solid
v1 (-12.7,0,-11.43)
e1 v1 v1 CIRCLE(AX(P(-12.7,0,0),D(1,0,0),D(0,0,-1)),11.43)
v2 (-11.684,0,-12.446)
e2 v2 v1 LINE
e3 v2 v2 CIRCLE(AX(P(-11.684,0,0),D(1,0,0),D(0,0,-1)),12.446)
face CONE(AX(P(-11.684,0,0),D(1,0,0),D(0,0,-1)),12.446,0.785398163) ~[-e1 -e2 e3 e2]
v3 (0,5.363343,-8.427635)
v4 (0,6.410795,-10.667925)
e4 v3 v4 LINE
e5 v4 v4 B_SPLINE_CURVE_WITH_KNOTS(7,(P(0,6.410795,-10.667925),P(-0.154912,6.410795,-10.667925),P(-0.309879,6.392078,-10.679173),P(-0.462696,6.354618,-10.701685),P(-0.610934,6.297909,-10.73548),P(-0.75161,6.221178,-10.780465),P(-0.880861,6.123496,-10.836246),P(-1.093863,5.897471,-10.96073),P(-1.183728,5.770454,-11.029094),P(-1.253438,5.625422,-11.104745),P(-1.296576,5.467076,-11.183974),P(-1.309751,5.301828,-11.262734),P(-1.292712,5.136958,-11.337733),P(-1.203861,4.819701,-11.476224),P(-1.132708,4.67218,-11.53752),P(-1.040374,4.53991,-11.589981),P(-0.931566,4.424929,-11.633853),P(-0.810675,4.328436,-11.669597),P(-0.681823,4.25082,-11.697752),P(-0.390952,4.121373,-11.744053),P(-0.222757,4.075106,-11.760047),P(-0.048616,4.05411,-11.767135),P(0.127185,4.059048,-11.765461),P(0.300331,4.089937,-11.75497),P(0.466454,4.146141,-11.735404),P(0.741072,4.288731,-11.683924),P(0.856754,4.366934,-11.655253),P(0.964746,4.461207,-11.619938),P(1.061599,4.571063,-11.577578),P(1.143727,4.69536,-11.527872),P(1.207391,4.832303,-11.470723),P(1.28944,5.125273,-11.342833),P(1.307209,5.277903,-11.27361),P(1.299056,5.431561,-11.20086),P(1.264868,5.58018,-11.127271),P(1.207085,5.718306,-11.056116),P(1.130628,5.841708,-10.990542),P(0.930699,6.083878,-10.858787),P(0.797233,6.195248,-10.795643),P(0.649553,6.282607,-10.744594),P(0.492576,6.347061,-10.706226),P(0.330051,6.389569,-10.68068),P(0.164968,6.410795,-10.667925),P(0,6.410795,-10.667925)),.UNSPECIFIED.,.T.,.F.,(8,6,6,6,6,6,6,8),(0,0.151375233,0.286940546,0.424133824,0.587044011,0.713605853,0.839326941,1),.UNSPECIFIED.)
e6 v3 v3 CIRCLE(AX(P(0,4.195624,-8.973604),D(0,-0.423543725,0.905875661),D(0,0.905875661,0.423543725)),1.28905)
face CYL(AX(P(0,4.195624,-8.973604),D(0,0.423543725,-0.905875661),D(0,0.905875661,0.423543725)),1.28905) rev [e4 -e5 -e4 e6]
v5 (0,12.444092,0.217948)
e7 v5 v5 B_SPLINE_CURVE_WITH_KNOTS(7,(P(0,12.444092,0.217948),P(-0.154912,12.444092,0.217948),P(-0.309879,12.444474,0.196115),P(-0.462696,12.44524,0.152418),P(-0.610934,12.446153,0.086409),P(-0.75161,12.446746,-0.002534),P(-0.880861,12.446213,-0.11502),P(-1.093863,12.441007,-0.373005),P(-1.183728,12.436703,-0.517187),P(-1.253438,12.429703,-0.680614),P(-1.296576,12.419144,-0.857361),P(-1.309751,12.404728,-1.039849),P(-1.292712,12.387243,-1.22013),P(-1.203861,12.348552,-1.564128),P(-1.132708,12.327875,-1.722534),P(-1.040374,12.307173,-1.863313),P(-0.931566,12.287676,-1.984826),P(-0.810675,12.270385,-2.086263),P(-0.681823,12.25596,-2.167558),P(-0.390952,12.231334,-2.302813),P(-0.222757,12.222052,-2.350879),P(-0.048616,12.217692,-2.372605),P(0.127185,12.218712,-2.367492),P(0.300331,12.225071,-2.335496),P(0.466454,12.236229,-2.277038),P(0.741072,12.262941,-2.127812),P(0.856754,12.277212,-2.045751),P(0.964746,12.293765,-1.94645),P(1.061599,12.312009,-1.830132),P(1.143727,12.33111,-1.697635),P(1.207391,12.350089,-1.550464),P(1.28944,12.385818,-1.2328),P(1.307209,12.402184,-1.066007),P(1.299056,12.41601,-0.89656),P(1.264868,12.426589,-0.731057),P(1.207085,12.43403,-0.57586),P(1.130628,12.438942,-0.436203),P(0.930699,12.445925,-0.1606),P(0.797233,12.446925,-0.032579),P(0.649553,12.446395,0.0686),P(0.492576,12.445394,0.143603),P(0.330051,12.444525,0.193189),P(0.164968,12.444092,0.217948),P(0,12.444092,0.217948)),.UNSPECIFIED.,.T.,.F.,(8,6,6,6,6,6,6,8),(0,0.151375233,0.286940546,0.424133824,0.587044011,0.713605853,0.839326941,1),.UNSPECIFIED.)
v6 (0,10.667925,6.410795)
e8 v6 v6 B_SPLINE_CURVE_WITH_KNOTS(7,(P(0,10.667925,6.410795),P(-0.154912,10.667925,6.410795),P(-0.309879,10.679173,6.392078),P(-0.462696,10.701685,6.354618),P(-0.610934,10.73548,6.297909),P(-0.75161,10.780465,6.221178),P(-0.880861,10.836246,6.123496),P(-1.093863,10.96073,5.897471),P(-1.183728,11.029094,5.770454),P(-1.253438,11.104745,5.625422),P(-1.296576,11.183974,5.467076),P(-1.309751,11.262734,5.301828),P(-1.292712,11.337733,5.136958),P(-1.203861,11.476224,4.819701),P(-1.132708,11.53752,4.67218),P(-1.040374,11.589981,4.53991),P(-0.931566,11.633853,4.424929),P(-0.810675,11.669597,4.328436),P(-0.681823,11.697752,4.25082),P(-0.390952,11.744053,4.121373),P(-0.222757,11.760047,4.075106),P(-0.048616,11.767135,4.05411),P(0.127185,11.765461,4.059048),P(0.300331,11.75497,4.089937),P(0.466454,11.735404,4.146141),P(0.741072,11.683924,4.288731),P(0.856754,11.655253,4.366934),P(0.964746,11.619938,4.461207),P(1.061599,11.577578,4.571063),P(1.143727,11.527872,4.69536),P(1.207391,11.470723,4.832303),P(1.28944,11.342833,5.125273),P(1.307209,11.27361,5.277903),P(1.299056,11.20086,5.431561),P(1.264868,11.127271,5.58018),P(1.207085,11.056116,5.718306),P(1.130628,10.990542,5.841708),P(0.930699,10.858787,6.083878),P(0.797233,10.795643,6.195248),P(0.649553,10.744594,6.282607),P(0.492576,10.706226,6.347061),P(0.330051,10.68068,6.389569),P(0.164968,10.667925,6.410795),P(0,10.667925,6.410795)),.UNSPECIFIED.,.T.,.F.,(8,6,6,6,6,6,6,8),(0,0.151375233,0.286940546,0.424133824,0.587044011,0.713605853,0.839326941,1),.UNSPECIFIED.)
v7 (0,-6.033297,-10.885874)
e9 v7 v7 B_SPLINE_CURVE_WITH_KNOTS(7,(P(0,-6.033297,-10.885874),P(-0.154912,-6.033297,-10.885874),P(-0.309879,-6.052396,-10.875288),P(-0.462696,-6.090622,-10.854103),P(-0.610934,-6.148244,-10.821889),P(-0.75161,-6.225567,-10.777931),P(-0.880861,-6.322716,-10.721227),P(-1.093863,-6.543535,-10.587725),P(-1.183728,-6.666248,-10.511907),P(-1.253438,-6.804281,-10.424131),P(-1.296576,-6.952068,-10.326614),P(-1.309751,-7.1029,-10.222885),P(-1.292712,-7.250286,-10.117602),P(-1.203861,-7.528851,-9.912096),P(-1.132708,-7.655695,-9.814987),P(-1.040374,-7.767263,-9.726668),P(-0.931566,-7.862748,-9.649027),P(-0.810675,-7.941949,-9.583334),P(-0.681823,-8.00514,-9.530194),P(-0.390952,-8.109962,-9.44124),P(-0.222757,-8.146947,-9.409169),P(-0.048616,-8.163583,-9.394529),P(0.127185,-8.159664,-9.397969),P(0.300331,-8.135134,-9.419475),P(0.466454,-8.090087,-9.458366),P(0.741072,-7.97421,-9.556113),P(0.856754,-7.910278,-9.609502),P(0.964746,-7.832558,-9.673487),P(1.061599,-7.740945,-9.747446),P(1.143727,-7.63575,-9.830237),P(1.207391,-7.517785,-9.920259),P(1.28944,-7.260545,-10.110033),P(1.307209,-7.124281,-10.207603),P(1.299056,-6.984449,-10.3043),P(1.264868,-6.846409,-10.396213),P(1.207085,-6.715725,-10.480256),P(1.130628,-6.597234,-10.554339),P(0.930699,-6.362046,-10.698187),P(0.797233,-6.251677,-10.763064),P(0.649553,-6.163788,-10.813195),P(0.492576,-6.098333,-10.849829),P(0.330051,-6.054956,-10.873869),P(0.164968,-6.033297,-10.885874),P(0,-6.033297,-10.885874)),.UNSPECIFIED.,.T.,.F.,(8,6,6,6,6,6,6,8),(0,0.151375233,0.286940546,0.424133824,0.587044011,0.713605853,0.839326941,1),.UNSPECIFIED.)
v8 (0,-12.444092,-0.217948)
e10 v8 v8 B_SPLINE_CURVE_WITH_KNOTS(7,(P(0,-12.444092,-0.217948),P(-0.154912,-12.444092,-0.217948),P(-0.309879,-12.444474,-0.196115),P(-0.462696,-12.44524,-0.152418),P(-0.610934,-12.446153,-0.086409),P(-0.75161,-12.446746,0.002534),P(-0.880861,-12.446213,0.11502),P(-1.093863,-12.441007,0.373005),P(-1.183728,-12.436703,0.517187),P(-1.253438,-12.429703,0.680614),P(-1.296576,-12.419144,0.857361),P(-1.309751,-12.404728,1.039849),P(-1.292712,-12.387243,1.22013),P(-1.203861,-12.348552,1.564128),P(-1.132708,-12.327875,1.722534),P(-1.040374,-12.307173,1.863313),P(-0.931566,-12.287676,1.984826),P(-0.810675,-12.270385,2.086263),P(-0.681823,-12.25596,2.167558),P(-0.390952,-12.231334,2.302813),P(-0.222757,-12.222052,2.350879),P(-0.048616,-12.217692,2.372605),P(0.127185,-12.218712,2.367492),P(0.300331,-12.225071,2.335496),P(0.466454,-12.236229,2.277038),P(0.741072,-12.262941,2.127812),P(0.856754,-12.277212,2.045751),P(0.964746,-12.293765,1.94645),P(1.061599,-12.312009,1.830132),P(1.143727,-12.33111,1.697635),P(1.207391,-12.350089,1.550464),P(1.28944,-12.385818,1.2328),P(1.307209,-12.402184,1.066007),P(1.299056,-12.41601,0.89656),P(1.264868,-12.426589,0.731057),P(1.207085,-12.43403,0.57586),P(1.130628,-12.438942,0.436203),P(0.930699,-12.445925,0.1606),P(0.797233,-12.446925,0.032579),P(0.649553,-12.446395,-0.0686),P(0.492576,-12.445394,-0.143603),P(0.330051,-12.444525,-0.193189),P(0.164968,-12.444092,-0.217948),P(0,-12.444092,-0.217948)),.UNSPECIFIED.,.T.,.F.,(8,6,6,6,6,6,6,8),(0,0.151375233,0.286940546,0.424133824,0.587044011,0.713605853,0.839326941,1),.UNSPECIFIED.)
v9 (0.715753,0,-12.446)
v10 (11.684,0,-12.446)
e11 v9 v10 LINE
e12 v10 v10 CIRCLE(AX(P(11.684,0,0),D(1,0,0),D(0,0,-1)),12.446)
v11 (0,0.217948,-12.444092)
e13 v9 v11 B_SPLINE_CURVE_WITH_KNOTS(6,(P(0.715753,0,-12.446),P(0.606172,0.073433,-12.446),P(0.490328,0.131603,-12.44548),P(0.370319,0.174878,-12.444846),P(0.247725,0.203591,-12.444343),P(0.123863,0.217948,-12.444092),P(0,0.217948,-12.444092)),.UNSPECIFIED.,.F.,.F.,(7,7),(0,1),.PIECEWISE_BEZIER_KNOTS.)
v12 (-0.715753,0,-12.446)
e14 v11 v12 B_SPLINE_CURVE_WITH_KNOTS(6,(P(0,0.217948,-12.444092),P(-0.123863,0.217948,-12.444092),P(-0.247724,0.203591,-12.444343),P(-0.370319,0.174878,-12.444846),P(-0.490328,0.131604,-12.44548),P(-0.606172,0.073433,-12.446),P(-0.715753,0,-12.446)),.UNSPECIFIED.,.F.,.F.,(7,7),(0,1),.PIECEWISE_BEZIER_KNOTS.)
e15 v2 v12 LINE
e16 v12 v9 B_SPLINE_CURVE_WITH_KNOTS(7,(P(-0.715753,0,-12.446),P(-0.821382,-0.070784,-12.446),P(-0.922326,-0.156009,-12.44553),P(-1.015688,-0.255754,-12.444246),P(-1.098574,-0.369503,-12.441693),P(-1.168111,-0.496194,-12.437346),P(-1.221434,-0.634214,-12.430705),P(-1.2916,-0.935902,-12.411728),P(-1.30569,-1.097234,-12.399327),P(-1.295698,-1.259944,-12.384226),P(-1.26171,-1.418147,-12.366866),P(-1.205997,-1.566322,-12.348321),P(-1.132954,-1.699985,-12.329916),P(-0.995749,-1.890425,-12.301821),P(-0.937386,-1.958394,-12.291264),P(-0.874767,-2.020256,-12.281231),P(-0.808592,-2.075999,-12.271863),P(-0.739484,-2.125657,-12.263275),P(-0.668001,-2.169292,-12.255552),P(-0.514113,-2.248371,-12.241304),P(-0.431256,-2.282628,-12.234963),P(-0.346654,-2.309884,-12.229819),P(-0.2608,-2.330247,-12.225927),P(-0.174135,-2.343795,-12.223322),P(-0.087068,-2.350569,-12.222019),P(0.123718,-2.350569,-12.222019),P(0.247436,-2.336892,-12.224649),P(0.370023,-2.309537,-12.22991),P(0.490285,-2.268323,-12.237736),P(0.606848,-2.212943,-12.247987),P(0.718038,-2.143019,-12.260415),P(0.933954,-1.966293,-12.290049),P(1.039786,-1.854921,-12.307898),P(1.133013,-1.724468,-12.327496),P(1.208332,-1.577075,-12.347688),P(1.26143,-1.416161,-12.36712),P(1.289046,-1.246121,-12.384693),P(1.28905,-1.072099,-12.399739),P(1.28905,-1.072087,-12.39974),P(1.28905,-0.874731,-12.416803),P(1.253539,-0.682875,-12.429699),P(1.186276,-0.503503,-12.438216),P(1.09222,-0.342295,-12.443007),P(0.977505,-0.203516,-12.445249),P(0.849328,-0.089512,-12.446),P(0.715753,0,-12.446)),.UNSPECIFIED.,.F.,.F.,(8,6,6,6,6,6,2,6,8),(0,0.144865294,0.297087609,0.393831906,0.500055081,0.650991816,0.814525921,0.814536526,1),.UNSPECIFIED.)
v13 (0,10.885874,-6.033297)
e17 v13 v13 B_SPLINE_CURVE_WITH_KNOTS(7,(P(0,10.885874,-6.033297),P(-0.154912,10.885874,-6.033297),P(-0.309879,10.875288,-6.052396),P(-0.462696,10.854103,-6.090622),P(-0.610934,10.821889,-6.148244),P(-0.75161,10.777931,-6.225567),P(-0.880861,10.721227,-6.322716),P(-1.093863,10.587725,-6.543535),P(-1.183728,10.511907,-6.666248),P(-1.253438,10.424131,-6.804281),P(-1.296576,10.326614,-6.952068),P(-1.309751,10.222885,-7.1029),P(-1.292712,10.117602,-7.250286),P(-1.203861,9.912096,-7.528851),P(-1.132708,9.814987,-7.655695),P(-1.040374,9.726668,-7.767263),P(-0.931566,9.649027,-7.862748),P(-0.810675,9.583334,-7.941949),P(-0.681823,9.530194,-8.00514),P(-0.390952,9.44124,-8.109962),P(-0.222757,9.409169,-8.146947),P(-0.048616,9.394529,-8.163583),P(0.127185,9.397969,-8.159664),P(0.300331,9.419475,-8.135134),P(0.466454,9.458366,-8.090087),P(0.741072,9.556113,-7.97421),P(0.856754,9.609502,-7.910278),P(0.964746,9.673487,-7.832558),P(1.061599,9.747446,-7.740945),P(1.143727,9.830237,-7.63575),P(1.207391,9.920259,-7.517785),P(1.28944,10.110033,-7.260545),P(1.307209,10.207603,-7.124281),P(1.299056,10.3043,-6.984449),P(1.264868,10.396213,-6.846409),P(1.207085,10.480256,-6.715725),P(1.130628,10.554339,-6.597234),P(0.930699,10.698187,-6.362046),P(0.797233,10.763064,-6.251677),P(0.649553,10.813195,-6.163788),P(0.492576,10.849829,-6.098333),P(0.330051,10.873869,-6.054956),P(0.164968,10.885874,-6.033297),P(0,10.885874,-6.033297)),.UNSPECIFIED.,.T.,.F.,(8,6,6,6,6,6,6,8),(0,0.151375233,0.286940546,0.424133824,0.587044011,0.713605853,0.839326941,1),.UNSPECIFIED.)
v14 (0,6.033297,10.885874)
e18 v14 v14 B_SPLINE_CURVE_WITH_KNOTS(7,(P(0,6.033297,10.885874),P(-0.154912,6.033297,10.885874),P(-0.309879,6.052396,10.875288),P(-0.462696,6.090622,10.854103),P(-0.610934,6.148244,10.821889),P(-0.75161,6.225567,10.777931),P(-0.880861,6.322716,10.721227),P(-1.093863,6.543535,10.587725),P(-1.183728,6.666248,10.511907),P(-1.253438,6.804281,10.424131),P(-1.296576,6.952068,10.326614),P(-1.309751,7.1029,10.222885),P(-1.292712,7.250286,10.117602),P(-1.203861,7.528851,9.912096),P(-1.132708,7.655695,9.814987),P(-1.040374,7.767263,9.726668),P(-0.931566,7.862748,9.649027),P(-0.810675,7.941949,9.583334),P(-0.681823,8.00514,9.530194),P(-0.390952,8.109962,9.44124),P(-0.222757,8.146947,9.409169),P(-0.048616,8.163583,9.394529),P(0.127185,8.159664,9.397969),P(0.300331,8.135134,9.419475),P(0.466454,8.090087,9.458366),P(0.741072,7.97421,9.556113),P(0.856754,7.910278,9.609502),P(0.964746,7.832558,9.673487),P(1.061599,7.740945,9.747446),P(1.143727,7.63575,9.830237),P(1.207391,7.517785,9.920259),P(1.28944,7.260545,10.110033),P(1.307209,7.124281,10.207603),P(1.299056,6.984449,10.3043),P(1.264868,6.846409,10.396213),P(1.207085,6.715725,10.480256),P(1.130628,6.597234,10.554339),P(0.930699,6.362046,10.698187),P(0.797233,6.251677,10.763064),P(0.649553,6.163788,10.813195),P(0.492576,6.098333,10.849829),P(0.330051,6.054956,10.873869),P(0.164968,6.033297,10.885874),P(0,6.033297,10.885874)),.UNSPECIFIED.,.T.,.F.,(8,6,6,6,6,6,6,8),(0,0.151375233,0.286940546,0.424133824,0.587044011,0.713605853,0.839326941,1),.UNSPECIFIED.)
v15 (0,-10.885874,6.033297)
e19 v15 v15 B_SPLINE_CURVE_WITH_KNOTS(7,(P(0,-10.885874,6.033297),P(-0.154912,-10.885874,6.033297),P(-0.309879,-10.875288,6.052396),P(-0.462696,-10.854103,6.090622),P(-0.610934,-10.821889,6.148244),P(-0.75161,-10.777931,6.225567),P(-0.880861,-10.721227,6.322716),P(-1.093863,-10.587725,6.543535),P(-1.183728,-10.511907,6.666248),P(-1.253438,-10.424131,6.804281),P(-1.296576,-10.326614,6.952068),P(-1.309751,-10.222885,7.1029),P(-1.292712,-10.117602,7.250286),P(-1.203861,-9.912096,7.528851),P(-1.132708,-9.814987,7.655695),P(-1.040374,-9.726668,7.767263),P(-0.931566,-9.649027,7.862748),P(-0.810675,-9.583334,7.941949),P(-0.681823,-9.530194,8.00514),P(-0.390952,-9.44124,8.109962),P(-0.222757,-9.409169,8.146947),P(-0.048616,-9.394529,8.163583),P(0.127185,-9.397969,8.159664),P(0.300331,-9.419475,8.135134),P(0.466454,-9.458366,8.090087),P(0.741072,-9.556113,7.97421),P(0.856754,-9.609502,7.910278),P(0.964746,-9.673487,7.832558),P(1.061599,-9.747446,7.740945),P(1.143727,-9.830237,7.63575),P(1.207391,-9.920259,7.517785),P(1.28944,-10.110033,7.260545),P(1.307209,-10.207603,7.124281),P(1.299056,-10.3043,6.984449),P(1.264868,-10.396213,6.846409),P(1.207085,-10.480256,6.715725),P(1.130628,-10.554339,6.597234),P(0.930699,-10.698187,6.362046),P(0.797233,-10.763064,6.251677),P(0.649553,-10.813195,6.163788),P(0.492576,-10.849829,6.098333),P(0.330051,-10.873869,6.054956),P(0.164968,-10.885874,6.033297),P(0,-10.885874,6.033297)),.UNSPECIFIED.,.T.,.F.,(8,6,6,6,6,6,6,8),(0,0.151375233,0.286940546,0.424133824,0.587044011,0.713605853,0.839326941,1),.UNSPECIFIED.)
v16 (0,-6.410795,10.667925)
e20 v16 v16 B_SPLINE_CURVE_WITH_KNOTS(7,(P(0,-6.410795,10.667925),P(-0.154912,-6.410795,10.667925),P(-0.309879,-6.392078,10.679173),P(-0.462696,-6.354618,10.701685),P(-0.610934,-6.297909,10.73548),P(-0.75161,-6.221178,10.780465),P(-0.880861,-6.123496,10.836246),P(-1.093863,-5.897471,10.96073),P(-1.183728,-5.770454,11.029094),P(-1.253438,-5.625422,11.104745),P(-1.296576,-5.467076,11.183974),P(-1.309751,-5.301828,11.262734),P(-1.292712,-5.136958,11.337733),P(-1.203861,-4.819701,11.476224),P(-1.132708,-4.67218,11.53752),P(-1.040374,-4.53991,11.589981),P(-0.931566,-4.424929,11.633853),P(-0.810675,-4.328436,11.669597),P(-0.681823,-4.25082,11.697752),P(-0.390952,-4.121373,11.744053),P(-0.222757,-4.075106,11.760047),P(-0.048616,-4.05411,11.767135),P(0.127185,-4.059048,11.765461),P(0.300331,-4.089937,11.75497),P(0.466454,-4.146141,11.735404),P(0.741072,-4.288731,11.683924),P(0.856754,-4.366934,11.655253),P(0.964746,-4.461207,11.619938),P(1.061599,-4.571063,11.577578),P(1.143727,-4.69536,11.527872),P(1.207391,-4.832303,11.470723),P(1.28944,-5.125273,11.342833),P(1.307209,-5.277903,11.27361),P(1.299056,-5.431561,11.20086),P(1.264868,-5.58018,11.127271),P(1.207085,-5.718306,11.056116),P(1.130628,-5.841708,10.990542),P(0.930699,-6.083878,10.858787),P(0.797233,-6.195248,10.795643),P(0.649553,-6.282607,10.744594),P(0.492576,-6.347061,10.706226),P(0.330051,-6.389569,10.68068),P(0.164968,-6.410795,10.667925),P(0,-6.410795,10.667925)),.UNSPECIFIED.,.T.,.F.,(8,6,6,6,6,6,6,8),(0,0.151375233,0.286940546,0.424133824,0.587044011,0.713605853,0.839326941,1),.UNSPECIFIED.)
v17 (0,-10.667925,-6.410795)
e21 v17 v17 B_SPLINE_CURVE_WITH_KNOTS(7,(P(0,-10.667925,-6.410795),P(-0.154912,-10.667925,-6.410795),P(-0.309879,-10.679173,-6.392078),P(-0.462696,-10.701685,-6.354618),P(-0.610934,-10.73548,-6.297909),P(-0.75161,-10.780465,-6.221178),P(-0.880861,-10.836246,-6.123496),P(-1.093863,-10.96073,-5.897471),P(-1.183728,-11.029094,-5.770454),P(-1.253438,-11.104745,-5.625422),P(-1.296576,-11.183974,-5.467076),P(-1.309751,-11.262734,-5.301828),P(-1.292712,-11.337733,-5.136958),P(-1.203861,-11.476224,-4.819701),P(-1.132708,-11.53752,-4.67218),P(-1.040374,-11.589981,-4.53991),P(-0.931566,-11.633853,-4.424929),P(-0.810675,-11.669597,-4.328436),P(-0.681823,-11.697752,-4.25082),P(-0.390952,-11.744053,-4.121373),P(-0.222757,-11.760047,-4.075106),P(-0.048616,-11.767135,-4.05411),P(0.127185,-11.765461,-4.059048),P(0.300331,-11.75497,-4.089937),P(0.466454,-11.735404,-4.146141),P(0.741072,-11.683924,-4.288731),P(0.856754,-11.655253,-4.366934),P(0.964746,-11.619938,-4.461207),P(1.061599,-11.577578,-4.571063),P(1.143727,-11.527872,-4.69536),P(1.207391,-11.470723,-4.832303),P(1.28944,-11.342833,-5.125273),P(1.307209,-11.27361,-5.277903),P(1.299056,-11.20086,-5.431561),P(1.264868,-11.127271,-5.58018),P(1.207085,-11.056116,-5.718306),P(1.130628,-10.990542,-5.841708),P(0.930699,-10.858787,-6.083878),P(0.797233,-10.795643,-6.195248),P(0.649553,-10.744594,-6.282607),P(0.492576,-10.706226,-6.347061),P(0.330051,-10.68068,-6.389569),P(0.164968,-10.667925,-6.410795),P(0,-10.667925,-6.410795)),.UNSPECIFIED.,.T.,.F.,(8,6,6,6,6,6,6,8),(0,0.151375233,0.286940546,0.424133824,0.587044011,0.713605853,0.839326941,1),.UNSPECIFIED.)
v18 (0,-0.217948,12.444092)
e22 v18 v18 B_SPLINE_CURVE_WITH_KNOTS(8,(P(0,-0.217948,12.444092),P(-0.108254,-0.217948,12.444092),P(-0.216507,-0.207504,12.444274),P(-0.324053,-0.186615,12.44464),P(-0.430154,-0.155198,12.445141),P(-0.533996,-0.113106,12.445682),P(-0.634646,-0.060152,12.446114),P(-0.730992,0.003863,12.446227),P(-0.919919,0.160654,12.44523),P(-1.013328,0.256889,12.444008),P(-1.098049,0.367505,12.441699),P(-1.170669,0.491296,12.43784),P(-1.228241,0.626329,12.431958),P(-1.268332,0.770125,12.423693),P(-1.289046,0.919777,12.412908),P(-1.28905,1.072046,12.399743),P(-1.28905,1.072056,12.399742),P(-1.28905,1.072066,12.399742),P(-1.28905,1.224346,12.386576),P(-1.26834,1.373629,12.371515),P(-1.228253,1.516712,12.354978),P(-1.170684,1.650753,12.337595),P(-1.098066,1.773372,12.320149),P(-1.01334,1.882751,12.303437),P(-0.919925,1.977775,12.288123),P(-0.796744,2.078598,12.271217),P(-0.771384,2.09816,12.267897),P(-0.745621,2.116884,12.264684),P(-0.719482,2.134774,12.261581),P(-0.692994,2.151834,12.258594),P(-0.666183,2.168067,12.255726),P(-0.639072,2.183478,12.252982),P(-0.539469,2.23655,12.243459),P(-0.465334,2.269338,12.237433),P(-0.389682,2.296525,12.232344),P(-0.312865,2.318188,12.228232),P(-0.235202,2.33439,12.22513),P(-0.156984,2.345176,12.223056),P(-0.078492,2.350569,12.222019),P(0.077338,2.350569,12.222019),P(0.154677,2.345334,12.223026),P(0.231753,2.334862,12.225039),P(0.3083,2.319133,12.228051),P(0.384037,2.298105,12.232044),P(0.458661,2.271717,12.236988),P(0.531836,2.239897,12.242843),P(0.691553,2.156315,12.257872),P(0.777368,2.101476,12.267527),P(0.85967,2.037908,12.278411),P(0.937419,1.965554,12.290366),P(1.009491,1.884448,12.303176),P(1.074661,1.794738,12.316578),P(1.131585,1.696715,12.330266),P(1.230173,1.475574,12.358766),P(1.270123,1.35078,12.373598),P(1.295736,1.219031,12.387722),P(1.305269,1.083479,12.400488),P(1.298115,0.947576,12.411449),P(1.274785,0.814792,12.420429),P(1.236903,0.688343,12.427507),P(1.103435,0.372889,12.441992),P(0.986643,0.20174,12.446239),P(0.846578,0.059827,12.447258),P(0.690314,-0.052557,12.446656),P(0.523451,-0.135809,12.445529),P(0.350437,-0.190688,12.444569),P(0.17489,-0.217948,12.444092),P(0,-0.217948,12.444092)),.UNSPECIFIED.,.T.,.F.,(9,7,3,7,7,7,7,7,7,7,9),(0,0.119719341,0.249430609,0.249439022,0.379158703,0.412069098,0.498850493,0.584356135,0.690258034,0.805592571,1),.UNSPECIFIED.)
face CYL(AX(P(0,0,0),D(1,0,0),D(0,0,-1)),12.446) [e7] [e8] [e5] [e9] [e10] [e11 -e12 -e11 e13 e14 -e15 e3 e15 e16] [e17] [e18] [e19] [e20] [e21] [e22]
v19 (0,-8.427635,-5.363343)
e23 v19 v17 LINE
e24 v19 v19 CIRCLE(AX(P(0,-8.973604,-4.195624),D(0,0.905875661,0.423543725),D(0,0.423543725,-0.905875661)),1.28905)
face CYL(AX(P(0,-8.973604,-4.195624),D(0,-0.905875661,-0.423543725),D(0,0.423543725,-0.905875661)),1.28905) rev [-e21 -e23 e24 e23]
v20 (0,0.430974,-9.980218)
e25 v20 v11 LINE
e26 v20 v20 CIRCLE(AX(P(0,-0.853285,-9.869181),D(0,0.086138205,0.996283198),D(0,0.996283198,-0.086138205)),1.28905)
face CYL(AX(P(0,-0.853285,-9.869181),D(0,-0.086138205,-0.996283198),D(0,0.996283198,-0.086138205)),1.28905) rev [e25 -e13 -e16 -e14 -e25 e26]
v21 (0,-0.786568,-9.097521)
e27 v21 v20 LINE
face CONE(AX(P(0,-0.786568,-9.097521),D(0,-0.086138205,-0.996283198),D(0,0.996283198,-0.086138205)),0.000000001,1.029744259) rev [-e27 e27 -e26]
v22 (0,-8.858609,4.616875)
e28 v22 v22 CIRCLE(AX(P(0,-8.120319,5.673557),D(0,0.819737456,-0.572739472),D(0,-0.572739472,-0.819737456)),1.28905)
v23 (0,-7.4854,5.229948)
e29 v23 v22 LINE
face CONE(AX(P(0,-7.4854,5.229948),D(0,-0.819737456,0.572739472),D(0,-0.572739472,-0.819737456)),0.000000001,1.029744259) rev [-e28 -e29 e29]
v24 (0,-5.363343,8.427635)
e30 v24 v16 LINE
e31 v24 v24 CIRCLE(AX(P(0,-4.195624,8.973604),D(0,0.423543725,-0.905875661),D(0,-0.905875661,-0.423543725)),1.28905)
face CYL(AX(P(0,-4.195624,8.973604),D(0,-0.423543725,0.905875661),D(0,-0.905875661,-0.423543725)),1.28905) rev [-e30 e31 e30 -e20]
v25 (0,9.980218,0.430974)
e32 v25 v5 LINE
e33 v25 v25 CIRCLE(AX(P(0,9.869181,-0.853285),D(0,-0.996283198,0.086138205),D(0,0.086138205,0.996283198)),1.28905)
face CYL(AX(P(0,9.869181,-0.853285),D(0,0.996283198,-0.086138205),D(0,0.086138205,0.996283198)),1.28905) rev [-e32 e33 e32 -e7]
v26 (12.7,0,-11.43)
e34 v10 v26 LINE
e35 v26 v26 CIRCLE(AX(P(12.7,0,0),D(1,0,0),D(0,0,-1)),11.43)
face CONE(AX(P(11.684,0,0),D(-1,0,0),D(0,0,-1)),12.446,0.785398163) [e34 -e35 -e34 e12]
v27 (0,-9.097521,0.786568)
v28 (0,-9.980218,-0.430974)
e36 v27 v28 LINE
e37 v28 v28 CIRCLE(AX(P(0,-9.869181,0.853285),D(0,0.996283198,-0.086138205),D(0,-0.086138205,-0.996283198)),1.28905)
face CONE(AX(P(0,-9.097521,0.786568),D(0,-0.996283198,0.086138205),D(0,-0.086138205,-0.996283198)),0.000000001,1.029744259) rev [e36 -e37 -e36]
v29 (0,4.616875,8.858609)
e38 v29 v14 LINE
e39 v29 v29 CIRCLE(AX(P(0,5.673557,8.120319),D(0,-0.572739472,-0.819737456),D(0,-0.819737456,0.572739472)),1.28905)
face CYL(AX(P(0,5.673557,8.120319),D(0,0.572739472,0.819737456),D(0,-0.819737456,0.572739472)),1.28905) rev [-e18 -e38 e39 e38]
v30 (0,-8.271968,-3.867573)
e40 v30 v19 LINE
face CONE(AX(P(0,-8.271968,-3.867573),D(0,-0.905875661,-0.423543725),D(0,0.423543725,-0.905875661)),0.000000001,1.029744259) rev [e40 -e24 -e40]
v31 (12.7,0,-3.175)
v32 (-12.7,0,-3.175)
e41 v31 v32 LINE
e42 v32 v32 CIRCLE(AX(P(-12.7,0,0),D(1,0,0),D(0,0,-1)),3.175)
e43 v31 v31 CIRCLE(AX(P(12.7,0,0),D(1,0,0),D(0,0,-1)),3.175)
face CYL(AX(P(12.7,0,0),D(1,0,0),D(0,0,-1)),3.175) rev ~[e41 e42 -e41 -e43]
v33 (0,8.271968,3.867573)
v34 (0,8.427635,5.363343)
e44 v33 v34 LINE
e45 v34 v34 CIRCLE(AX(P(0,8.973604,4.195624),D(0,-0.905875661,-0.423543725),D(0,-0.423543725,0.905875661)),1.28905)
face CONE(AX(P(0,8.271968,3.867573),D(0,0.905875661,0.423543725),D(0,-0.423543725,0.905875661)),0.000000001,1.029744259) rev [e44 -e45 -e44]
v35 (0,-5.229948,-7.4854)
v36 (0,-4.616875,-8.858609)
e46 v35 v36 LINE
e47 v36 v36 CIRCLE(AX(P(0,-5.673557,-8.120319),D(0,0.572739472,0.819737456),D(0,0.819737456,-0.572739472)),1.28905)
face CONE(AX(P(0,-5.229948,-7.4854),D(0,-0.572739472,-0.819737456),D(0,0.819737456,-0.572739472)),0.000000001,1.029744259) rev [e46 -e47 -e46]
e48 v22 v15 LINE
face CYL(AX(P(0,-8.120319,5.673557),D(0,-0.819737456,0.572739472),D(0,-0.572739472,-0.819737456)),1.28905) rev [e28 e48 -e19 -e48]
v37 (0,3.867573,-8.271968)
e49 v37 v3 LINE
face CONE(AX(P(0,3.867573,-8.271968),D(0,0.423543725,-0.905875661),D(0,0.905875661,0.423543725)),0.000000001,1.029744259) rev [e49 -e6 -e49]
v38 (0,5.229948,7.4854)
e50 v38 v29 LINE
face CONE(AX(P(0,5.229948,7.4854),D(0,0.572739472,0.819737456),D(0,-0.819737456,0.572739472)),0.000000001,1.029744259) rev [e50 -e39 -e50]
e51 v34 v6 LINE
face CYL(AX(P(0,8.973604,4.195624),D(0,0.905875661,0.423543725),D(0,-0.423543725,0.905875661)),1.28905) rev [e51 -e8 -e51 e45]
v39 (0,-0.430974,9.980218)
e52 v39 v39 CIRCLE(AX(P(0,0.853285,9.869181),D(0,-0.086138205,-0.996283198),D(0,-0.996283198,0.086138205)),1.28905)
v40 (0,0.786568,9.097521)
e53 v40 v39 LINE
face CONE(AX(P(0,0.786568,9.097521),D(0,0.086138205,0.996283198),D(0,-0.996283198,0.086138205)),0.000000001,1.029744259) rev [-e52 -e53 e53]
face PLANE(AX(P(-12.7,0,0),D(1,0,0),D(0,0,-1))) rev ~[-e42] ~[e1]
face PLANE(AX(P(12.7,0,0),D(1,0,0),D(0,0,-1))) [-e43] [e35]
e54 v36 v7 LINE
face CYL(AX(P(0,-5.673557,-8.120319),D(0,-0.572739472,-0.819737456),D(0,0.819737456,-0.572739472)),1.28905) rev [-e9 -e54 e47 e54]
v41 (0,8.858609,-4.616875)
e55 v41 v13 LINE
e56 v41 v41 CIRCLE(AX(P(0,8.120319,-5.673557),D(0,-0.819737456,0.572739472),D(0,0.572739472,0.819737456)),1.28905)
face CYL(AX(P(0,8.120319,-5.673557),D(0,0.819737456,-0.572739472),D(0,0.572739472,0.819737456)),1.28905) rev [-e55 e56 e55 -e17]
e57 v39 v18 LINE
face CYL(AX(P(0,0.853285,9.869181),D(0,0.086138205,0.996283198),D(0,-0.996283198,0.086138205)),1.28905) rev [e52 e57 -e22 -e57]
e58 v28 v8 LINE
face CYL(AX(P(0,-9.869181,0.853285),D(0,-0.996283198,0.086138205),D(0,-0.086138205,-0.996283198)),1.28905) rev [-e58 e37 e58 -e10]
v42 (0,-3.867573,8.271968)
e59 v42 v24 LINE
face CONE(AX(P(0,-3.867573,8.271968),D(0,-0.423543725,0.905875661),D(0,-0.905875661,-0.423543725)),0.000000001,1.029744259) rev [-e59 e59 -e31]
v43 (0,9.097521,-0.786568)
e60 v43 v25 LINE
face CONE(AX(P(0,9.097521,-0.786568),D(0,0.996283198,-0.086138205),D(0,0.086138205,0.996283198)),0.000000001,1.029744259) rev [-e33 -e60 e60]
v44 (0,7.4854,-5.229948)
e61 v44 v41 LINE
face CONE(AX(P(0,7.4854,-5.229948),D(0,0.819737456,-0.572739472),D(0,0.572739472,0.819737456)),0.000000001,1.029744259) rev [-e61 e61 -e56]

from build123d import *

# Parameters (mm, degrees)
SKETCH1_R           = 12.446
BOSS_EXTRUDE1_DEPTH = 12.7
CHAMFER1_SIZE       = 1.016
CHAMFER2_SIZE       = 1.016
SKETCH2_R           = 3.175
CUT_EXTRUDE1_DEPTH  = 25.4
CIRPATTERN4_COUNT   = 12


with BuildPart() as part:
    # Sketch1 → Boss-Extrude1 (new body, symmetric)
    with BuildSketch(Plane(origin=(0, 0, 0), x_dir=(0, 0, -1), z_dir=(1, 0, 0))):
        Circle(SKETCH1_R)
    extrude(amount=BOSS_EXTRUDE1_DEPTH, both=True)

    # Chamfer1
    chamfer1_edges = [part.edges().sort_by_distance(p)[0] for p in [
        (12.7, 0, 12.446),
    ]]
    chamfer(chamfer1_edges, length=CHAMFER1_SIZE)

    # Chamfer2
    chamfer2_edges = [part.edges().sort_by_distance(p)[0] for p in [
        (-12.7, 0, 12.446),
    ]]
    chamfer(chamfer2_edges, length=CHAMFER2_SIZE)

    # Sketch2 → Cut-Extrude1 (cut)
    with BuildSketch(Plane(origin=(12.7, 0, 0), x_dir=(0, 0, -1), z_dir=(1, 0, 0))):
        Circle(SKETCH2_R)
    extrude(amount=-CUT_EXTRUDE1_DEPTH, mode=Mode.SUBTRACT)

    # Sketch4 → #38 (0.1015) Diameter Hole1 (revolve, cut)
    with BuildSketch(Plane(origin=(0, 10.202452378, -7.128315472), x_dir=(0, 0.572739472, 0.819737456), z_dir=(1, 0, 0))):
        Polygon((0, 0), (0, 3.314539381), (1.28905, 2.54), (1.28905, 0), align=None)
    f_38_0_1015_diameter_hole1 = revolve(axis=Axis((0, 15.407785224, -10.765211121), (0, -0.819737456, 0.572739472)), mode=Mode.SUBTRACT)

    # CirPattern4: #38 (0.1015) Diameter Hole1 ×12 about axis
    cirpattern4_axis = Axis((12.7, 0, 0), (-1, 0, 0))
    for i in range(1, CIRPATTERN4_COUNT):
        add(f_38_0_1015_diameter_hole1.rotate(cirpattern4_axis, i * 360 / CIRPATTERN4_COUNT), mode=Mode.SUBTRACT)


solid = part.part
